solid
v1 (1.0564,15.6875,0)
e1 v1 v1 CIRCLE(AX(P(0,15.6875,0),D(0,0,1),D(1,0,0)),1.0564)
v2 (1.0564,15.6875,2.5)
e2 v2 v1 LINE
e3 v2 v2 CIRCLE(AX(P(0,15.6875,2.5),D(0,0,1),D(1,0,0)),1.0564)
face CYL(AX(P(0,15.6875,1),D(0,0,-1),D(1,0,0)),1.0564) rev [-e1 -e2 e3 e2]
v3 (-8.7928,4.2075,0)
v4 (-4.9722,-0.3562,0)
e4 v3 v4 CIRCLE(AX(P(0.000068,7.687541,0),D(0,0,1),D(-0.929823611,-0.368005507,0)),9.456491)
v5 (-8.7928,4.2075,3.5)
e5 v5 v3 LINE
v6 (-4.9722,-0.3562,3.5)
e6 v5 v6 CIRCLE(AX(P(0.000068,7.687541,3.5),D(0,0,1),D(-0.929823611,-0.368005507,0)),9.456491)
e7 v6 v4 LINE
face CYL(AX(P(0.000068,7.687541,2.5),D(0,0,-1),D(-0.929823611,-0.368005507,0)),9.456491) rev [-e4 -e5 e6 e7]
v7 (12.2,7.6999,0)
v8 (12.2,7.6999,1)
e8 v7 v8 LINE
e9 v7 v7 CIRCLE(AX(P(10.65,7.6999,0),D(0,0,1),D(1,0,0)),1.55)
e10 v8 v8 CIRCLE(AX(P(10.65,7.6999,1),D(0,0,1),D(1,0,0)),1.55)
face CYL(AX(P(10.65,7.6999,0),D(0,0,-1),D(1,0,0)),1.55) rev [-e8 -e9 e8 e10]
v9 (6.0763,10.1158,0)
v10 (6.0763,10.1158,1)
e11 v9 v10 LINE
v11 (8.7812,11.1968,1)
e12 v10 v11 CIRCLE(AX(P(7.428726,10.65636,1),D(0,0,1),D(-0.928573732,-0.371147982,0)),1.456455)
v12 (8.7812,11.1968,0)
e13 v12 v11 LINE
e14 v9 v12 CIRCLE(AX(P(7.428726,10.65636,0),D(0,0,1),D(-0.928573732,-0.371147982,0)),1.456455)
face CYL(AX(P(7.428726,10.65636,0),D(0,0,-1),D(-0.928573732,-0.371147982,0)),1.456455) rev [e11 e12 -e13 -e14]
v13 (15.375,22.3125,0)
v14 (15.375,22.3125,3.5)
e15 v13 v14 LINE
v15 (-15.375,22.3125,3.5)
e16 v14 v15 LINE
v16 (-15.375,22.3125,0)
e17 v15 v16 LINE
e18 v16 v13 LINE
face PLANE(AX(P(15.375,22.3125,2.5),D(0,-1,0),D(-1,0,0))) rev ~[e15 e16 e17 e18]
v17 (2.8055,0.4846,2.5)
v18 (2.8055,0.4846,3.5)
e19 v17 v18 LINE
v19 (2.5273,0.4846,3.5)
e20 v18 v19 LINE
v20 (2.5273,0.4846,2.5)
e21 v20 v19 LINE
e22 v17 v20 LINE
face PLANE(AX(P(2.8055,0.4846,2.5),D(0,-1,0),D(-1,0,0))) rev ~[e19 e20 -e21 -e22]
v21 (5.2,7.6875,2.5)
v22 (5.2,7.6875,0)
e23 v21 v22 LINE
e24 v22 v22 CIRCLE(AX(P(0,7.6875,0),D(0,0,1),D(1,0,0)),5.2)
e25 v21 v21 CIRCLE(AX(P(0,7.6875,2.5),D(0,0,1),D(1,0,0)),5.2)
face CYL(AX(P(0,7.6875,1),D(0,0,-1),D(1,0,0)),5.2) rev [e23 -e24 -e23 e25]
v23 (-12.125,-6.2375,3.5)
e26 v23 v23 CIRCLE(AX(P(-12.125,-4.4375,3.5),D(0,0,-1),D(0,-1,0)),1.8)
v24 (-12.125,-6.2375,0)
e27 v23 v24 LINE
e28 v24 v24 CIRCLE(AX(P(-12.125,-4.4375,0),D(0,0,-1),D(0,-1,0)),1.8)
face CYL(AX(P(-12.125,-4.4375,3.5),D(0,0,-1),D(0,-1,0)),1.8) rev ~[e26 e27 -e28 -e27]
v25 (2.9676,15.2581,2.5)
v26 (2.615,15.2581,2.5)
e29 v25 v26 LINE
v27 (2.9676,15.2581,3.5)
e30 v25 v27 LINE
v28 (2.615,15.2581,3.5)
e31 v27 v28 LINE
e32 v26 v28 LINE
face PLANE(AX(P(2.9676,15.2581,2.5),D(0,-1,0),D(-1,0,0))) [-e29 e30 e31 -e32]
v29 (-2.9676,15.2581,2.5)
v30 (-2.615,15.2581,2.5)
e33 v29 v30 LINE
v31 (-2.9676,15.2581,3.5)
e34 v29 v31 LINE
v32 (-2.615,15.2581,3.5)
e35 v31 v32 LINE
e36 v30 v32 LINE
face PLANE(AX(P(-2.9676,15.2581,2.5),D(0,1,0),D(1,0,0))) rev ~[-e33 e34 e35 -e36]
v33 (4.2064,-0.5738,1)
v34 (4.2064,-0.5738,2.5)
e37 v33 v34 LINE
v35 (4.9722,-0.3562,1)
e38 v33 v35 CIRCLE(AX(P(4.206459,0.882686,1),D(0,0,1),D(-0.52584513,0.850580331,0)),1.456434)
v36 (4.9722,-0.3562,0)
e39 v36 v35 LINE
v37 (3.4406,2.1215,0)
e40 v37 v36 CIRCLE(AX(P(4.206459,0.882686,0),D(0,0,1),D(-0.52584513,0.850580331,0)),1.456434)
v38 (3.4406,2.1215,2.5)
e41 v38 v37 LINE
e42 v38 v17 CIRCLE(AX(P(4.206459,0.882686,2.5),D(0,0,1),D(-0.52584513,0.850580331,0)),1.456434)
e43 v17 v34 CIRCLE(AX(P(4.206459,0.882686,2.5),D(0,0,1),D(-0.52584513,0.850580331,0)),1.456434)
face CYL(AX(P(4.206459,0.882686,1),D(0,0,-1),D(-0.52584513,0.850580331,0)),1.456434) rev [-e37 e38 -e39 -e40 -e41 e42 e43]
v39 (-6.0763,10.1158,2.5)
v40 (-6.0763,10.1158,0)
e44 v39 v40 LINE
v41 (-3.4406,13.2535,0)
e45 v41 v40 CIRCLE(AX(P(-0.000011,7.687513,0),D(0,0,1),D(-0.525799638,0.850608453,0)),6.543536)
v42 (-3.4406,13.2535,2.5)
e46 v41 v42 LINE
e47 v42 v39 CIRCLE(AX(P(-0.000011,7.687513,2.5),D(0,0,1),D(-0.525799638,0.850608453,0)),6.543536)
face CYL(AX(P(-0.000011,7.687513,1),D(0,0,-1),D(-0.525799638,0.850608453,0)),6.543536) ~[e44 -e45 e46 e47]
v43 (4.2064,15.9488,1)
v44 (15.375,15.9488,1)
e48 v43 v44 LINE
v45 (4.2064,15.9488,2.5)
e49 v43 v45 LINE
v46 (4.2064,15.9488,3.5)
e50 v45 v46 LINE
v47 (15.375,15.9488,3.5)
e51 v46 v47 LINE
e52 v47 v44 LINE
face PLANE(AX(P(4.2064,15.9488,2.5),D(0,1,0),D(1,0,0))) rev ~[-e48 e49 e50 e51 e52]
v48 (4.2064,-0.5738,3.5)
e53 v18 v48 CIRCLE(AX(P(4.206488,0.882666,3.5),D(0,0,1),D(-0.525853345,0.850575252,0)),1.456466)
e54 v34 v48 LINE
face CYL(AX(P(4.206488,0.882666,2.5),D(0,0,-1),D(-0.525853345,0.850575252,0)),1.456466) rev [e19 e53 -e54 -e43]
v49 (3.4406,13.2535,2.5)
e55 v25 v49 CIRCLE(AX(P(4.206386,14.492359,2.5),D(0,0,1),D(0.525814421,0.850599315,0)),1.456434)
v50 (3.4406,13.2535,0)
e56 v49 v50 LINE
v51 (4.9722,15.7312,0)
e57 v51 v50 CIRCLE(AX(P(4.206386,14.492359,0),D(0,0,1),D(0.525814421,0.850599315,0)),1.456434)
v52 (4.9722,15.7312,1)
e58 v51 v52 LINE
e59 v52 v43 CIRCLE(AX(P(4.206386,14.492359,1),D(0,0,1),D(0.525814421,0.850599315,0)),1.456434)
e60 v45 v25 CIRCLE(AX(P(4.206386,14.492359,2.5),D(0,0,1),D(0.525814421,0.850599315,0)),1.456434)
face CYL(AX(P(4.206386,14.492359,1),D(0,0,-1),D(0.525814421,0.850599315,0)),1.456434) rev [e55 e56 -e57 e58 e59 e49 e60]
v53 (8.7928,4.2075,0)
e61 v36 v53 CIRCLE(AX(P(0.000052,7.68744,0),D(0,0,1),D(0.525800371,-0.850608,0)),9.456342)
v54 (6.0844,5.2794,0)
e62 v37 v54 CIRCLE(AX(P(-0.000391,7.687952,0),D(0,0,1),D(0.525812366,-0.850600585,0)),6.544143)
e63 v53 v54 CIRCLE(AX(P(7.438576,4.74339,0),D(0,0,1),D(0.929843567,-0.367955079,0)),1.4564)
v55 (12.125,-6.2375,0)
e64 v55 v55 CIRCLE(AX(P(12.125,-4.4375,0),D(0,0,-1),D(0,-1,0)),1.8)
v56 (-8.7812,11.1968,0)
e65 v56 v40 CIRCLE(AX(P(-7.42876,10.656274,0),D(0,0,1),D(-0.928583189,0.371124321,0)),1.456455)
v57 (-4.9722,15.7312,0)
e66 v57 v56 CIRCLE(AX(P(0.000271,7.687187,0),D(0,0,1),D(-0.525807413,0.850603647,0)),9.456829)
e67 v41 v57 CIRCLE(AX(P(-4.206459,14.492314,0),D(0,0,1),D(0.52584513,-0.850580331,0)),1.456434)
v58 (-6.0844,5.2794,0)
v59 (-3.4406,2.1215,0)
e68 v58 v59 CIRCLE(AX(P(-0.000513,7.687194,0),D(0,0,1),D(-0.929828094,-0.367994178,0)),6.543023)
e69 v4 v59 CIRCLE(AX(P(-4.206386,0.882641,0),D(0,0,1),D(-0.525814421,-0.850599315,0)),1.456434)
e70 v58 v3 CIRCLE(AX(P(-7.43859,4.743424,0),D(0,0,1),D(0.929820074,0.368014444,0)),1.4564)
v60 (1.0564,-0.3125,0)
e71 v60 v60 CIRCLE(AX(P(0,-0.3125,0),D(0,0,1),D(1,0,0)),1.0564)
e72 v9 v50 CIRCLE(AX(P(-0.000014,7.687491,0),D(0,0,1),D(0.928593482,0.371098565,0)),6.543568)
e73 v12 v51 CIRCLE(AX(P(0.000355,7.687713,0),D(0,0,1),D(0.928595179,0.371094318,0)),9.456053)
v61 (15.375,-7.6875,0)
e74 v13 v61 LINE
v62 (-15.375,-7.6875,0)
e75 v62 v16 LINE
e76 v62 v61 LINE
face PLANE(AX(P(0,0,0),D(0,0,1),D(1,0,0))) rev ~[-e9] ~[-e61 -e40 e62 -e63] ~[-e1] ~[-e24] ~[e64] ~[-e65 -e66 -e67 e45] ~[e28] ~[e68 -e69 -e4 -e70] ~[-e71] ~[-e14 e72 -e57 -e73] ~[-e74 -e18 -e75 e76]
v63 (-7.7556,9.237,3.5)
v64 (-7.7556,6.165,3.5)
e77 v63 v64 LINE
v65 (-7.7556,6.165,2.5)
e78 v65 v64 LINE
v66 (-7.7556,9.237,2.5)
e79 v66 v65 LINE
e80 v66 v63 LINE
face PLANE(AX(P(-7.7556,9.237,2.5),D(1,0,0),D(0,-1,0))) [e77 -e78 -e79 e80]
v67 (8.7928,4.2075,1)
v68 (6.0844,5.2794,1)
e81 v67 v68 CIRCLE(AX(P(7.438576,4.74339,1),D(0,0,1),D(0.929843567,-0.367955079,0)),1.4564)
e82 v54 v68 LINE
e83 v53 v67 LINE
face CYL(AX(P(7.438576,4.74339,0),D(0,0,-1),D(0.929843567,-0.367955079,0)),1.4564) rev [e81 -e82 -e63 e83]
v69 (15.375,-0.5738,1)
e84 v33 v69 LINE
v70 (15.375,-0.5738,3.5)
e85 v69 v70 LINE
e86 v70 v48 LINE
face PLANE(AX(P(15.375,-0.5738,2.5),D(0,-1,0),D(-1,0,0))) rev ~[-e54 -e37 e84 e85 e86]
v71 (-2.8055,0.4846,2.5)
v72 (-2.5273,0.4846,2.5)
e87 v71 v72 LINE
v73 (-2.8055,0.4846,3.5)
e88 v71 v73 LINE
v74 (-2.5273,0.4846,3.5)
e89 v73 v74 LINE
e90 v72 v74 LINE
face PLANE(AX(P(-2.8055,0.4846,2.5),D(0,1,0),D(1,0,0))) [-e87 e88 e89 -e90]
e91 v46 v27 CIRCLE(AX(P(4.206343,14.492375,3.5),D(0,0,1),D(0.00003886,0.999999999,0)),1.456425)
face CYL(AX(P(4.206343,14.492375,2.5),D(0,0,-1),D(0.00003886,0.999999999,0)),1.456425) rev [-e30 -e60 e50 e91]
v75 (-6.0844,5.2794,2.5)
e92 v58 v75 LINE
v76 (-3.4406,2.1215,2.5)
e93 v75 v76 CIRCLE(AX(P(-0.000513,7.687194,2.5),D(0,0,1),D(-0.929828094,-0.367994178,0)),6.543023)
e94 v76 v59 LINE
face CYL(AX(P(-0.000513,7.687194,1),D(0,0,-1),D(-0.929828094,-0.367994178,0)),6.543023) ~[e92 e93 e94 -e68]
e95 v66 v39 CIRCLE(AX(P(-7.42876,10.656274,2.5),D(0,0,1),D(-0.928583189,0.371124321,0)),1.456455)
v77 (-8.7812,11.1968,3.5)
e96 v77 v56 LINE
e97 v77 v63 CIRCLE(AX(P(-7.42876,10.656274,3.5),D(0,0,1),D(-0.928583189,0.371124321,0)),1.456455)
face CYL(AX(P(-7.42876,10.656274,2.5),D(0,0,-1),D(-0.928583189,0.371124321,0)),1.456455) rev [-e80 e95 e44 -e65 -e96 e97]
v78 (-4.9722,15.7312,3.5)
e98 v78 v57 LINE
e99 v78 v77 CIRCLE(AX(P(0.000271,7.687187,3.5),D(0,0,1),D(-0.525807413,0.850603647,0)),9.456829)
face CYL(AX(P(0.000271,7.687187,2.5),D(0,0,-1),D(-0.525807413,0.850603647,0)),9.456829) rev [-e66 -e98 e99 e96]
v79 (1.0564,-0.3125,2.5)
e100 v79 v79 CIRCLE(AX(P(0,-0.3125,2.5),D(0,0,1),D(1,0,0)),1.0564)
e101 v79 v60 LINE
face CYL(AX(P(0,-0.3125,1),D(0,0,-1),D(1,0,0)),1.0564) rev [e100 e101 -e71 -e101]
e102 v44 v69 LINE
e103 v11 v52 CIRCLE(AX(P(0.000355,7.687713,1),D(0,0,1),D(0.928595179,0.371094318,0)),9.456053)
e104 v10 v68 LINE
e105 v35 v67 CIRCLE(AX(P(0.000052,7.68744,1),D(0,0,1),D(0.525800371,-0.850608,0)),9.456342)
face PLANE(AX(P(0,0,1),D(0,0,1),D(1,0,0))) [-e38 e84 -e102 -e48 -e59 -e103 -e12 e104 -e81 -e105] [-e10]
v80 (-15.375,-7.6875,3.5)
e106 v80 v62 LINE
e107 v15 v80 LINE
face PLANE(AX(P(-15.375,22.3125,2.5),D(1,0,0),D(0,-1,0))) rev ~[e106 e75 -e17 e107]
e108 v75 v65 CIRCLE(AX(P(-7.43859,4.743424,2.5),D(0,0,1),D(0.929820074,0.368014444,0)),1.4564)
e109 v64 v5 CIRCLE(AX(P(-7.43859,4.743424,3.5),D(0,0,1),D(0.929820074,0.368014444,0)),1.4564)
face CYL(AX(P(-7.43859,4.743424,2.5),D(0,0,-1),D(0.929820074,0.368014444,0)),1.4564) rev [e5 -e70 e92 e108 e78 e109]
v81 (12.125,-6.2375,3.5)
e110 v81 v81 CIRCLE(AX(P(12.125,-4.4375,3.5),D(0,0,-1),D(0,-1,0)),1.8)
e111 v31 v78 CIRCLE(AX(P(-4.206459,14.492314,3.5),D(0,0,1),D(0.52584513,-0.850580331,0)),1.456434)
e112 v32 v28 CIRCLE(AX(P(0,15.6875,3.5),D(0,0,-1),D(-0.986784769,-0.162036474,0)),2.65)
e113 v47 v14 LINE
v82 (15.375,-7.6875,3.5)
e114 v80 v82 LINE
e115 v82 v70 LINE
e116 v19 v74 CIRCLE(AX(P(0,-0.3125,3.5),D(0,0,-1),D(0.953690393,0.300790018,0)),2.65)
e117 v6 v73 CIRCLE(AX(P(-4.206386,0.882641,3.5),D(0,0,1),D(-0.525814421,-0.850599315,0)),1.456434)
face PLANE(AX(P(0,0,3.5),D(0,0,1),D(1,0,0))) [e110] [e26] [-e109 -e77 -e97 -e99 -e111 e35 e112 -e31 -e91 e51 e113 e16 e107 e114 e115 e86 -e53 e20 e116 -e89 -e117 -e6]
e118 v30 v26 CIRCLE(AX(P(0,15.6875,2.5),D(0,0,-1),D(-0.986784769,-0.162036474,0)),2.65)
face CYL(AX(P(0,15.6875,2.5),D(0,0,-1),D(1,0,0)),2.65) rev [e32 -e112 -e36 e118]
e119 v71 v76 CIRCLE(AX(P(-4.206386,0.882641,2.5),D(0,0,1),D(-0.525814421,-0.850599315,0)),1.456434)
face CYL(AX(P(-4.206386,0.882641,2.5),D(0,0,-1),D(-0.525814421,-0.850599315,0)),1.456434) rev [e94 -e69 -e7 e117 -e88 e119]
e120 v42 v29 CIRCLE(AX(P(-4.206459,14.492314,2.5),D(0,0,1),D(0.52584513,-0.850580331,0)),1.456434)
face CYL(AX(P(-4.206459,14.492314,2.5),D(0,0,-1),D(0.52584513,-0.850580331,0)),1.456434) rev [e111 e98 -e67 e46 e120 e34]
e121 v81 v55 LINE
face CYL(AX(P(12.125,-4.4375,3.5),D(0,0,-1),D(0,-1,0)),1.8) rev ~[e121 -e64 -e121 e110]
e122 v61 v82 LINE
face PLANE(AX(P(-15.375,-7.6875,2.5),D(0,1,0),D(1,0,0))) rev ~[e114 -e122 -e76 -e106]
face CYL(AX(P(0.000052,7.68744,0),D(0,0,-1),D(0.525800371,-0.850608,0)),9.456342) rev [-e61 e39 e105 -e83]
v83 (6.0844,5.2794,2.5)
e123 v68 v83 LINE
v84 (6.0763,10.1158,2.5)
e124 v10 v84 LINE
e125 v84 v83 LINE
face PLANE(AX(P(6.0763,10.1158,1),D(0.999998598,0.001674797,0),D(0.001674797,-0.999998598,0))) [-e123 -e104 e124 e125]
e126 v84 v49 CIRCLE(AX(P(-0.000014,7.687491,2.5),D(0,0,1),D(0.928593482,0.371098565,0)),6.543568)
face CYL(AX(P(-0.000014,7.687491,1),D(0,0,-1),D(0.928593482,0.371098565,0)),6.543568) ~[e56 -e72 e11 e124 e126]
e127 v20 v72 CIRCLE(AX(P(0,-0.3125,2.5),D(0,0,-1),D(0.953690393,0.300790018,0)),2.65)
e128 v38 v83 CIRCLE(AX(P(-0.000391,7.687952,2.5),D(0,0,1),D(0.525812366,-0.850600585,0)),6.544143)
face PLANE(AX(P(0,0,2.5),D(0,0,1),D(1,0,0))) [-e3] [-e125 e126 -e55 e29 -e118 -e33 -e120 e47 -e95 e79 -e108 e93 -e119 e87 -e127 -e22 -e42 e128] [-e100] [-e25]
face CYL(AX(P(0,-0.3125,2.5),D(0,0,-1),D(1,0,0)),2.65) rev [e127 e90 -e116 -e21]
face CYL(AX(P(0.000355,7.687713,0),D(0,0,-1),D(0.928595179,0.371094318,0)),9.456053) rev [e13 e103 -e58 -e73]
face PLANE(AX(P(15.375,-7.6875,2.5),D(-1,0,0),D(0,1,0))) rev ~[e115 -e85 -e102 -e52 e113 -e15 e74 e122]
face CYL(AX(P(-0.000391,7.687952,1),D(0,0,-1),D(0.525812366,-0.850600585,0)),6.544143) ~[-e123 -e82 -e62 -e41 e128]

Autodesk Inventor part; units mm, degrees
ref_plane "YZ Plane" through (0, 0, 0) normal (1, 0, 0) x (0, 1, 0)
ref_plane "XZ Plane" through (0, 0, 0) normal (0, 1, 0) x (-1, 0, 0)
ref_plane "XY Plane" through (0, 0, 0) normal (0, 0, 1) x (1, 0, 0)
ref_plane "Work Plane1" through (0, 0, 0) normal (0, 0, 1) x (1, 0, 0)
sketch "Sketch1" plane through (0, 0, 0) normal (0, 0, 1) x (1, 0, 0)
  arc A0 (-3.651, 13.5937) -> (-4.7619, 15.391) centre (-4.2064, 14.4923) ccw projected
  arc A1 (-3.651, 13.5937) -> (-6.4477, 10.2643) centre (0, 7.6875) ccw projected
  arc A2 (-8.4097, 11.0483) -> (-6.4477, 10.2643) centre (-7.4287, 10.6563) ccw projected
  arc A3 (-4.7619, 15.391) -> (-8.4097, 11.0483) centre (0, 7.6875) ccw projected
  arc A4 (6.4477, 10.2643) -> (8.4097, 11.0483) centre (7.4287, 10.6563) ccw projected
  arc A5 (6.4477, 10.2643) -> (3.651, 13.5937) centre (0, 7.6875) ccw projected
  arc A6 (4.7619, 15.391) -> (3.651, 13.5937) centre (4.2064, 14.4923) ccw projected
  arc A7 (8.4097, 11.0483) -> (4.7619, 15.391) centre (0, 7.6875) ccw projected
  arc A8 (-6.4563, 5.1322) -> (-8.4209, 4.3547) centre (-7.4386, 4.7434) ccw projected
  arc A9 (-6.4563, 5.1322) -> (-3.651, 1.7813) centre (0, 7.6875) ccw projected
  arc A10 (-4.7619, -0.016) -> (-3.651, 1.7813) centre (-4.2064, 0.8827) ccw projected
  arc A11 (-8.4209, 4.3547) -> (-4.7619, -0.016) centre (0, 7.6875) ccw projected
  arc A12 (3.651, 1.7813) -> (4.7619, -0.016) centre (4.2064, 0.8827) ccw projected
  arc A13 (3.651, 1.7813) -> (6.4563, 5.1322) centre (0, 7.6875) ccw projected
  arc A14 (8.4209, 4.3547) -> (6.4563, 5.1322) centre (7.4386, 4.7434) ccw projected
  arc A15 (4.7619, -0.016) -> (8.4209, 4.3547) centre (0, 7.6875) ccw projected
  circle A16 centre (10.65, 7.6999) radius 1.15 projected
  circle A17 centre (0, 15.6875) radius 1.0564 projected
  circle A18 centre (0, -0.3125) radius 1.0564 projected
  circle A19 centre (0, 7.6875) radius 5 projected
  circle A20 centre (0, 7.6875) radius 13.7 projected
  line L0 (-116.625, -11.1875) -> (15.375, -11.1875) projected
  line L1 (15.375, -11.1875) -> (15.375, -7.6875) projected
  line L2 (-116.625, -7.6875) -> (15.375, -7.6875) projected
  line L3 (-116.625, -11.1875) -> (-116.625, -7.6875) projected
  line L4 (15.375, -7.6875) -> (-15.375, -7.6875)
  line L5 (-15.375, -7.6875) -> (-15.375, 22.3125)
  line L6 (-15.375, 22.3125) -> (15.375, 22.3125)
  line L7 (15.375, 22.3125) -> (15.375, -7.6875)
  circle A21 centre (0, 7.6875) radius 14.375 projected
  circle A22 centre (0, 7.6875) radius 5.2
  arc A23 (-3.4406, 13.2535) -> (-4.9722, 15.7312) centre (-4.2064, 14.4923) ccw
  arc A24 (-3.4406, 13.2535) -> (-6.0763, 10.1158) centre (0, 7.6875) ccw
  arc A25 (-8.7812, 11.1968) -> (-6.0763, 10.1158) centre (-7.4287, 10.6563) ccw
  arc A26 (-4.9722, 15.7312) -> (-8.7812, 11.1968) centre (0, 7.6875) ccw
  arc A27 (4.9722, 15.7312) -> (3.4406, 13.2535) centre (4.2064, 14.4923) ccw
  arc A28 (6.0763, 10.1158) -> (3.4406, 13.2535) centre (0, 7.6875) ccw
  arc A29 (6.0763, 10.1158) -> (8.7812, 11.1968) centre (7.4287, 10.6563) ccw
  arc A30 (8.7812, 11.1968) -> (4.9722, 15.7312) centre (0, 7.6875) ccw
  arc A31 (3.4406, 2.1215) -> (6.0844, 5.2794) centre (0, 7.6875) ccw
  arc A32 (3.4406, 2.1215) -> (4.9722, -0.3562) centre (4.2064, 0.8827) ccw
  arc A33 (4.9722, -0.3562) -> (8.7928, 4.2075) centre (0, 7.6875) ccw
  arc A34 (8.7928, 4.2075) -> (6.0844, 5.2794) centre (7.4386, 4.7434) ccw
  arc A35 (-6.0844, 5.2794) -> (-8.7928, 4.2075) centre (-7.4386, 4.7434) ccw
  arc A36 (-6.0844, 5.2794) -> (-3.4406, 2.1215) centre (0, 7.6875) ccw
  arc A37 (-4.9722, -0.3562) -> (-3.4406, 2.1215) centre (-4.2064, 0.8827) ccw
  arc A38 (-8.7928, 4.2075) -> (-4.9722, -0.3562) centre (0, 7.6875) ccw
  circle A39 centre (10.65, 7.6999) radius 1.55
  point P0 (0, 0)
  dimension "d0" = 30
  dimension "d1" = 15.375
  dimension "d2" = 15.375
  dimension "d3" = 0.2
  dimension "d4" = 0.4
  dimension "d5" = 0.4
  dimension "d6" = 0.4
  dimension "d7" = 0.4
  dimension "d8" = 0.4
extrude "Extrusion1" add sketch "Sketch1" along normal blind 1 contours A20 | L2 L5 L6 L7 | A21
sketch "Sketch2" plane through (0, 0, 1) normal (0, 0, 1) x (1, 0, 0)
  line L0 (15.375, 22.3125) -> (-15.375, 22.3125) projected
  line L1 (-15.375, 22.3125) -> (-15.375, -7.6875) projected
  line L2 (-15.375, -7.6875) -> (15.375, -7.6875) projected
  line L3 (15.375, -7.6875) -> (15.375, 22.3125) projected
  circle A0 centre (0, 15.6875) radius 1.0564 projected
  circle A1 centre (0, -0.3125) radius 1.0564 projected
  circle A2 centre (0, 7.6875) radius 5.2 projected
  arc A3 (-3.4406, 13.2535) -> (-6.0763, 10.1158) centre (0, 7.6875) ccw projected
  arc A4 (-8.7812, 11.1968) -> (-6.0763, 10.1158) centre (-7.4287, 10.6563) ccw projected
  arc A5 (-4.9722, 15.7312) -> (-8.7812, 11.1968) centre (0, 7.6875) ccw projected
  arc A6 (-3.4406, 13.2535) -> (-4.9722, 15.7312) centre (-4.2064, 14.4923) ccw projected
  arc A7 (6.0763, 10.1158) -> (3.4406, 13.2535) centre (0, 7.6875) ccw projected
  arc A8 (4.9722, 15.7312) -> (3.4406, 13.2535) centre (4.2064, 14.4923) ccw projected
  arc A9 (8.7812, 11.1968) -> (4.9722, 15.7312) centre (0, 7.6875) ccw projected
  arc A10 (6.0763, 10.1158) -> (8.7812, 11.1968) centre (7.4287, 10.6563) ccw projected
  arc A11 (3.4406, 2.1215) -> (4.9722, -0.3562) centre (4.2064, 0.8827) ccw projected
  arc A12 (3.4406, 2.1215) -> (6.0844, 5.2794) centre (0, 7.6875) ccw projected
  arc A13 (8.7928, 4.2075) -> (6.0844, 5.2794) centre (7.4386, 4.7434) ccw projected
  arc A14 (4.9722, -0.3562) -> (8.7928, 4.2075) centre (0, 7.6875) ccw projected
  arc A15 (-6.0844, 5.2794) -> (-3.4406, 2.1215) centre (0, 7.6875) ccw projected
  arc A16 (-4.9722, -0.3562) -> (-3.4406, 2.1215) centre (-4.2064, 0.8827) ccw projected
  arc A17 (-8.7928, 4.2075) -> (-4.9722, -0.3562) centre (0, 7.6875) ccw projected
  arc A18 (-6.0844, 5.2794) -> (-8.7928, 4.2075) centre (-7.4386, 4.7434) ccw projected
  circle A19 centre (10.65, 7.6999) radius 1.55 projected
  arc A20 (4.9722, 15.7312) -> (3.4406, 13.2535) centre (4.2064, 14.4923) ccw projected
  line L4 (4.2064, 15.9488) -> (15.375, 15.9488)
  line L5 (15.375, -7.6875) -> (15.375, 22.3125) projected
  line L6 (4.2064, -0.5738) -> (15.375, -0.5738)
  arc A21 (6.0763, 10.1158) -> (8.7812, 11.1968) centre (7.4287, 10.6563) ccw projected
  line L7 (6.0763, 10.1158) -> (6.0844, 5.2794)
  point P0 (0, 0)
extrude "Extrusion2" add sketch "Sketch2" along normal blind 1.5 contours L3 L4 A8 A7 L7 A12 A11 L6 L2 L1 L0
sketch "Sketch3" plane through (0, 0, 2.5) normal (0, 0, 1) x (1, 0, 0)
  line L0 (15.375, -7.6875) -> (15.375, -0.5738) projected
  line L1 (15.375, -0.5738) -> (4.2064, -0.5738) projected
  arc A0 (3.4406, 2.1215) -> (4.2064, -0.5738) centre (4.2064, 0.8827) ccw projected
  arc A1 (3.4406, 2.1215) -> (6.0844, 5.2794) centre (0, 7.6875) ccw projected
  line L2 (6.0844, 5.2794) -> (6.0763, 10.1158) projected
  arc A2 (6.0763, 10.1158) -> (3.4406, 13.2535) centre (0, 7.6875) ccw projected
  arc A3 (4.2064, 15.9488) -> (3.4406, 13.2535) centre (4.2064, 14.4923) ccw projected
  line L3 (4.2064, 15.9488) -> (15.375, 15.9488) projected
  line L4 (15.375, 15.9488) -> (15.375, 22.3125) projected
  line L5 (15.375, 22.3125) -> (-15.375, 22.3125) projected
  line L6 (-15.375, 22.3125) -> (-15.375, -7.6875) projected
  line L7 (-15.375, -7.6875) -> (15.375, -7.6875) projected
  circle A4 centre (0, 15.6875) radius 1.0564 projected
  circle A5 centre (0, -0.3125) radius 1.0564 projected
  arc A6 (-6.0844, 5.2794) -> (-8.7928, 4.2075) centre (-7.4386, 4.7434) ccw projected
  arc A7 (-6.0844, 5.2794) -> (-3.4406, 2.1215) centre (0, 7.6875) ccw projected
  arc A8 (-4.9722, -0.3562) -> (-3.4406, 2.1215) centre (-4.2064, 0.8827) ccw projected
  arc A9 (-8.7928, 4.2075) -> (-4.9722, -0.3562) centre (0, 7.6875) ccw projected
  arc A10 (-3.4406, 13.2535) -> (-4.9722, 15.7312) centre (-4.2064, 14.4923) ccw projected
  arc A11 (-3.4406, 13.2535) -> (-6.0763, 10.1158) centre (0, 7.6875) ccw projected
  arc A12 (-8.7812, 11.1968) -> (-6.0763, 10.1158) centre (-7.4287, 10.6563) ccw projected
  arc A13 (-4.9722, 15.7312) -> (-8.7812, 11.1968) centre (0, 7.6875) ccw projected
  circle A14 centre (0, 7.6875) radius 5.2 projected
  circle A15 centre (0, 15.6875) radius 2.65
  circle A16 centre (0, -0.3125) radius 1.0564 projected
  circle A17 centre (0, -0.3125) radius 2.65
  arc A18 (-2.4425, 10.6818) -> (-4.3563, 11.5819) centre (-5.3868, 6.906) ccw projected
  arc A19 (-4.3563, 11.5819) -> (-4.9119, 10.8525) centre (0, 7.6875) ccw projected
  arc A20 (-4.9119, 10.8525) -> (-3.5356, 9.2466) centre (-0.678, 13.0883) ccw projected
  arc A21 (-3.5356, 9.2466) -> (-3.736, 8.6743) centre (0, 7.6875) ccw projected
  arc A22 (-3.736, 8.6743) -> (-5.8134, 8.2775) centre (-3.8987, 3.889) ccw projected
  arc A23 (-5.8134, 8.2775) -> (-5.8341, 7.3609) centre (0, 7.6875) ccw projected
  arc A24 (-5.8341, 7.3609) -> (-3.7768, 6.8706) centre (-3.723, 11.6584) ccw projected
  arc A25 (-3.7768, 6.8706) -> (-3.6025, 6.2899) centre (0, 7.6875) ccw projected
  arc A26 (-3.6025, 6.2899) -> (-5.05, 4.7478) centre (-0.9214, 2.3228) ccw projected
  arc A27 (-5.05, 4.7478) -> (-4.5279, 3.994) centre (0, 7.6875) ccw projected
  arc A28 (-4.5279, 3.994) -> (-2.5753, 4.8067) centre (-5.346, 8.7117) ccw projected
  arc A29 (-2.5753, 4.8067) -> (-2.093, 4.4393) centre (0, 7.6875) ccw projected
  arc A30 (-2.093, 4.4393) -> (-2.3576, 2.341) centre (2.4078, 2.8058) ccw projected
  arc A31 (-2.3576, 2.341) -> (-1.4922, 2.038) centre (0, 7.6875) ccw projected
  arc A32 (-1.4922, 2.038) -> (-0.3902, 3.8431) centre (-4.927, 5.3738) ccw projected
  arc A33 (-0.3902, 3.8431) -> (0.216, 3.8294) centre (0, 7.6875) ccw projected
  arc A34 (0.216, 3.8294) -> (1.2353, 1.9763) centre (4.8174, 5.1534) ccw projected
  arc A35 (1.2353, 1.9763) -> (2.1135, 2.2398) centre (0, 7.6875) ccw projected
  arc A36 (2.1135, 2.2398) -> (1.944, 4.348) centre (-2.6261, 2.9196) ccw projected
  arc A37 (1.944, 4.348) -> (2.4425, 4.6932) centre (0, 7.6875) ccw projected
  arc A38 (2.4425, 4.6932) -> (4.3563, 3.7931) centre (5.3868, 8.469) ccw projected
  arc A39 (4.3563, 3.7931) -> (4.9119, 4.5225) centre (0, 7.6875) ccw projected
  arc A40 (4.9119, 4.5225) -> (3.5356, 6.1284) centre (0.678, 2.2867) ccw projected
  arc A41 (3.5356, 6.1284) -> (3.736, 6.7007) centre (0, 7.6875) ccw projected
  arc A42 (3.736, 6.7007) -> (5.8134, 7.0975) centre (3.8987, 11.486) ccw projected
  arc A43 (5.8134, 7.0975) -> (5.8341, 8.0141) centre (0, 7.6875) ccw projected
  arc A44 (5.8341, 8.0141) -> (3.7768, 8.5044) centre (3.723, 3.7166) ccw projected
  arc A45 (3.7768, 8.5044) -> (3.6025, 9.0851) centre (0, 7.6875) ccw projected
  arc A46 (3.6025, 9.0851) -> (5.05, 10.6272) centre (0.9214, 13.0522) ccw projected
  arc A47 (5.05, 10.6272) -> (4.5279, 11.381) centre (0, 7.6875) ccw projected
  arc A48 (4.5279, 11.381) -> (2.5753, 10.5683) centre (5.346, 6.6633) ccw projected
  arc A49 (2.5753, 10.5683) -> (2.093, 10.9357) centre (0, 7.6875) ccw projected
  arc A50 (2.093, 10.9357) -> (2.3576, 13.034) centre (-2.4078, 12.5692) ccw projected
  arc A51 (2.3576, 13.034) -> (1.4922, 13.337) centre (0, 7.6875) ccw projected
  arc A52 (1.4922, 13.337) -> (0.3902, 11.5319) centre (4.927, 10.0012) ccw projected
  arc A53 (0.3902, 11.5319) -> (-0.216, 11.5456) centre (0, 7.6875) ccw projected
  arc A54 (-0.216, 11.5456) -> (-1.2353, 13.3987) centre (-4.8174, 10.2216) ccw projected
  arc A55 (-1.2353, 13.3987) -> (-2.1135, 13.1352) centre (0, 7.6875) ccw projected
  arc A56 (-2.1135, 13.1352) -> (-1.944, 11.027) centre (2.6261, 12.4554) ccw projected
  arc A57 (-1.944, 11.027) -> (-2.4425, 10.6818) centre (0, 7.6875) ccw projected
  circle A58 centre (0, 7.6875) radius 5.8433
  circle A59 centre (0, 7.6875) radius 6.5436
  arc A60 (-3.4406, 13.2535) -> (-4.9722, 15.7312) centre (-4.2064, 14.4923) ccw projected
  line L8 (-2.9676, 15.2581) -> (-2.615, 15.2581)
  arc A61 (4.9722, 15.7312) -> (3.4406, 13.2535) centre (4.2064, 14.4923) ccw projected
  line L9 (2.9676, 15.2581) -> (2.615, 15.2581)
  arc A62 (3.4406, 2.1215) -> (4.9722, -0.3562) centre (4.2064, 0.8827) ccw projected
  line L10 (2.8055, 0.4846) -> (2.5273, 0.4846)
  arc A63 (-4.9722, -0.3562) -> (-3.4406, 2.1215) centre (-4.2064, 0.8827) ccw projected
  line L11 (-2.8055, 0.4846) -> (-2.5273, 0.4846)
  arc A64 (-8.7812, 11.1968) -> (-6.0763, 10.1158) centre (-7.4287, 10.6563) ccw projected
  line L12 (-7.7556, 9.237) -> (-7.7556, 6.165)
  point P0 (0, 0)
  point P1 (-6.0844, 5.2794)
  point P2 (-6.0763, 10.1158)
  point P3 (2.9676, 15.2581)
  dimension "d13" = 5.3
  dimension "d14" = 5.3
extrude "Extrusion3" add sketch "Sketch3" along normal blind 1 contours L7 L6 L5 L4 L3 A3 L9 A15 L8 A10 A13 A12 L12 A6 A9 A8 L11 A17 L10 A0 L1 L0
sketch "Sketch4" plane through (0, 0, 3.5) normal (0, 0, 1) x (1, 0, 0)
  line L0 (15.375, -0.5738) -> (4.2064, -0.5738) projected
  arc A0 (2.8055, 0.4846) -> (4.2064, -0.5738) centre (4.2064, 0.8827) ccw projected
  line L1 (2.8055, 0.4846) -> (2.5273, 0.4846) projected
  arc A1 (-2.5273, 0.4846) -> (2.5273, 0.4846) centre (0, -0.3125) ccw projected
  line L2 (-2.5273, 0.4846) -> (-2.8055, 0.4846) projected
  arc A2 (-4.9722, -0.3562) -> (-2.8055, 0.4846) centre (-4.2064, 0.8827) ccw projected
  arc A3 (-8.7928, 4.2075) -> (-4.9722, -0.3562) centre (0, 7.6875) ccw projected
  arc A4 (-7.7556, 6.165) -> (-8.7928, 4.2075) centre (-7.4386, 4.7434) ccw projected
  line L3 (-7.7556, 6.165) -> (-7.7556, 9.237) projected
  arc A5 (-8.7812, 11.1968) -> (-7.7556, 9.237) centre (-7.4287, 10.6563) ccw projected
  arc A6 (-4.9722, 15.7312) -> (-8.7812, 11.1968) centre (0, 7.6875) ccw projected
  arc A7 (-2.9676, 15.2581) -> (-4.9722, 15.7312) centre (-4.2064, 14.4923) ccw projected
  line L4 (-2.9676, 15.2581) -> (-2.615, 15.2581) projected
  arc A8 (2.615, 15.2581) -> (-2.615, 15.2581) centre (0, 15.6875) ccw projected
  line L5 (2.615, 15.2581) -> (2.9676, 15.2581) projected
  arc A9 (4.2064, 15.9488) -> (2.9676, 15.2581) centre (4.2064, 14.4923) ccw projected
  line L6 (4.2064, 15.9488) -> (15.375, 15.9488) projected
  line L7 (15.375, 15.9488) -> (15.375, 22.3125) projected
  line L8 (15.375, 22.3125) -> (-15.375, 22.3125) projected
  line L9 (-15.375, 22.3125) -> (-15.375, -7.6875) projected
  line L10 (-15.375, -7.6875) -> (15.375, -7.6875) projected
  line L11 (15.375, -7.6875) -> (15.375, -0.5738) projected
  circle A10 centre (-12.125, -4.4375) radius 3.25
  circle A11 centre (12.125, -4.4375) radius 3.25
  point P0 (0, 0)
  dimension "d17" = 6.5
  dimension "d18" = 6.5
hole "Hole1" at (-12.125, -4.4375, 3.5) at (12.125, -4.4375, 3.5) direction (0, 0, -1) diameter 3.6 end through all clearance for "Countersunk Flat Head Screw ISO 2009/7046" size "M3" standard "ISO"
equation "\"d2\" = d1"
properties part number "front_motur_holder"
